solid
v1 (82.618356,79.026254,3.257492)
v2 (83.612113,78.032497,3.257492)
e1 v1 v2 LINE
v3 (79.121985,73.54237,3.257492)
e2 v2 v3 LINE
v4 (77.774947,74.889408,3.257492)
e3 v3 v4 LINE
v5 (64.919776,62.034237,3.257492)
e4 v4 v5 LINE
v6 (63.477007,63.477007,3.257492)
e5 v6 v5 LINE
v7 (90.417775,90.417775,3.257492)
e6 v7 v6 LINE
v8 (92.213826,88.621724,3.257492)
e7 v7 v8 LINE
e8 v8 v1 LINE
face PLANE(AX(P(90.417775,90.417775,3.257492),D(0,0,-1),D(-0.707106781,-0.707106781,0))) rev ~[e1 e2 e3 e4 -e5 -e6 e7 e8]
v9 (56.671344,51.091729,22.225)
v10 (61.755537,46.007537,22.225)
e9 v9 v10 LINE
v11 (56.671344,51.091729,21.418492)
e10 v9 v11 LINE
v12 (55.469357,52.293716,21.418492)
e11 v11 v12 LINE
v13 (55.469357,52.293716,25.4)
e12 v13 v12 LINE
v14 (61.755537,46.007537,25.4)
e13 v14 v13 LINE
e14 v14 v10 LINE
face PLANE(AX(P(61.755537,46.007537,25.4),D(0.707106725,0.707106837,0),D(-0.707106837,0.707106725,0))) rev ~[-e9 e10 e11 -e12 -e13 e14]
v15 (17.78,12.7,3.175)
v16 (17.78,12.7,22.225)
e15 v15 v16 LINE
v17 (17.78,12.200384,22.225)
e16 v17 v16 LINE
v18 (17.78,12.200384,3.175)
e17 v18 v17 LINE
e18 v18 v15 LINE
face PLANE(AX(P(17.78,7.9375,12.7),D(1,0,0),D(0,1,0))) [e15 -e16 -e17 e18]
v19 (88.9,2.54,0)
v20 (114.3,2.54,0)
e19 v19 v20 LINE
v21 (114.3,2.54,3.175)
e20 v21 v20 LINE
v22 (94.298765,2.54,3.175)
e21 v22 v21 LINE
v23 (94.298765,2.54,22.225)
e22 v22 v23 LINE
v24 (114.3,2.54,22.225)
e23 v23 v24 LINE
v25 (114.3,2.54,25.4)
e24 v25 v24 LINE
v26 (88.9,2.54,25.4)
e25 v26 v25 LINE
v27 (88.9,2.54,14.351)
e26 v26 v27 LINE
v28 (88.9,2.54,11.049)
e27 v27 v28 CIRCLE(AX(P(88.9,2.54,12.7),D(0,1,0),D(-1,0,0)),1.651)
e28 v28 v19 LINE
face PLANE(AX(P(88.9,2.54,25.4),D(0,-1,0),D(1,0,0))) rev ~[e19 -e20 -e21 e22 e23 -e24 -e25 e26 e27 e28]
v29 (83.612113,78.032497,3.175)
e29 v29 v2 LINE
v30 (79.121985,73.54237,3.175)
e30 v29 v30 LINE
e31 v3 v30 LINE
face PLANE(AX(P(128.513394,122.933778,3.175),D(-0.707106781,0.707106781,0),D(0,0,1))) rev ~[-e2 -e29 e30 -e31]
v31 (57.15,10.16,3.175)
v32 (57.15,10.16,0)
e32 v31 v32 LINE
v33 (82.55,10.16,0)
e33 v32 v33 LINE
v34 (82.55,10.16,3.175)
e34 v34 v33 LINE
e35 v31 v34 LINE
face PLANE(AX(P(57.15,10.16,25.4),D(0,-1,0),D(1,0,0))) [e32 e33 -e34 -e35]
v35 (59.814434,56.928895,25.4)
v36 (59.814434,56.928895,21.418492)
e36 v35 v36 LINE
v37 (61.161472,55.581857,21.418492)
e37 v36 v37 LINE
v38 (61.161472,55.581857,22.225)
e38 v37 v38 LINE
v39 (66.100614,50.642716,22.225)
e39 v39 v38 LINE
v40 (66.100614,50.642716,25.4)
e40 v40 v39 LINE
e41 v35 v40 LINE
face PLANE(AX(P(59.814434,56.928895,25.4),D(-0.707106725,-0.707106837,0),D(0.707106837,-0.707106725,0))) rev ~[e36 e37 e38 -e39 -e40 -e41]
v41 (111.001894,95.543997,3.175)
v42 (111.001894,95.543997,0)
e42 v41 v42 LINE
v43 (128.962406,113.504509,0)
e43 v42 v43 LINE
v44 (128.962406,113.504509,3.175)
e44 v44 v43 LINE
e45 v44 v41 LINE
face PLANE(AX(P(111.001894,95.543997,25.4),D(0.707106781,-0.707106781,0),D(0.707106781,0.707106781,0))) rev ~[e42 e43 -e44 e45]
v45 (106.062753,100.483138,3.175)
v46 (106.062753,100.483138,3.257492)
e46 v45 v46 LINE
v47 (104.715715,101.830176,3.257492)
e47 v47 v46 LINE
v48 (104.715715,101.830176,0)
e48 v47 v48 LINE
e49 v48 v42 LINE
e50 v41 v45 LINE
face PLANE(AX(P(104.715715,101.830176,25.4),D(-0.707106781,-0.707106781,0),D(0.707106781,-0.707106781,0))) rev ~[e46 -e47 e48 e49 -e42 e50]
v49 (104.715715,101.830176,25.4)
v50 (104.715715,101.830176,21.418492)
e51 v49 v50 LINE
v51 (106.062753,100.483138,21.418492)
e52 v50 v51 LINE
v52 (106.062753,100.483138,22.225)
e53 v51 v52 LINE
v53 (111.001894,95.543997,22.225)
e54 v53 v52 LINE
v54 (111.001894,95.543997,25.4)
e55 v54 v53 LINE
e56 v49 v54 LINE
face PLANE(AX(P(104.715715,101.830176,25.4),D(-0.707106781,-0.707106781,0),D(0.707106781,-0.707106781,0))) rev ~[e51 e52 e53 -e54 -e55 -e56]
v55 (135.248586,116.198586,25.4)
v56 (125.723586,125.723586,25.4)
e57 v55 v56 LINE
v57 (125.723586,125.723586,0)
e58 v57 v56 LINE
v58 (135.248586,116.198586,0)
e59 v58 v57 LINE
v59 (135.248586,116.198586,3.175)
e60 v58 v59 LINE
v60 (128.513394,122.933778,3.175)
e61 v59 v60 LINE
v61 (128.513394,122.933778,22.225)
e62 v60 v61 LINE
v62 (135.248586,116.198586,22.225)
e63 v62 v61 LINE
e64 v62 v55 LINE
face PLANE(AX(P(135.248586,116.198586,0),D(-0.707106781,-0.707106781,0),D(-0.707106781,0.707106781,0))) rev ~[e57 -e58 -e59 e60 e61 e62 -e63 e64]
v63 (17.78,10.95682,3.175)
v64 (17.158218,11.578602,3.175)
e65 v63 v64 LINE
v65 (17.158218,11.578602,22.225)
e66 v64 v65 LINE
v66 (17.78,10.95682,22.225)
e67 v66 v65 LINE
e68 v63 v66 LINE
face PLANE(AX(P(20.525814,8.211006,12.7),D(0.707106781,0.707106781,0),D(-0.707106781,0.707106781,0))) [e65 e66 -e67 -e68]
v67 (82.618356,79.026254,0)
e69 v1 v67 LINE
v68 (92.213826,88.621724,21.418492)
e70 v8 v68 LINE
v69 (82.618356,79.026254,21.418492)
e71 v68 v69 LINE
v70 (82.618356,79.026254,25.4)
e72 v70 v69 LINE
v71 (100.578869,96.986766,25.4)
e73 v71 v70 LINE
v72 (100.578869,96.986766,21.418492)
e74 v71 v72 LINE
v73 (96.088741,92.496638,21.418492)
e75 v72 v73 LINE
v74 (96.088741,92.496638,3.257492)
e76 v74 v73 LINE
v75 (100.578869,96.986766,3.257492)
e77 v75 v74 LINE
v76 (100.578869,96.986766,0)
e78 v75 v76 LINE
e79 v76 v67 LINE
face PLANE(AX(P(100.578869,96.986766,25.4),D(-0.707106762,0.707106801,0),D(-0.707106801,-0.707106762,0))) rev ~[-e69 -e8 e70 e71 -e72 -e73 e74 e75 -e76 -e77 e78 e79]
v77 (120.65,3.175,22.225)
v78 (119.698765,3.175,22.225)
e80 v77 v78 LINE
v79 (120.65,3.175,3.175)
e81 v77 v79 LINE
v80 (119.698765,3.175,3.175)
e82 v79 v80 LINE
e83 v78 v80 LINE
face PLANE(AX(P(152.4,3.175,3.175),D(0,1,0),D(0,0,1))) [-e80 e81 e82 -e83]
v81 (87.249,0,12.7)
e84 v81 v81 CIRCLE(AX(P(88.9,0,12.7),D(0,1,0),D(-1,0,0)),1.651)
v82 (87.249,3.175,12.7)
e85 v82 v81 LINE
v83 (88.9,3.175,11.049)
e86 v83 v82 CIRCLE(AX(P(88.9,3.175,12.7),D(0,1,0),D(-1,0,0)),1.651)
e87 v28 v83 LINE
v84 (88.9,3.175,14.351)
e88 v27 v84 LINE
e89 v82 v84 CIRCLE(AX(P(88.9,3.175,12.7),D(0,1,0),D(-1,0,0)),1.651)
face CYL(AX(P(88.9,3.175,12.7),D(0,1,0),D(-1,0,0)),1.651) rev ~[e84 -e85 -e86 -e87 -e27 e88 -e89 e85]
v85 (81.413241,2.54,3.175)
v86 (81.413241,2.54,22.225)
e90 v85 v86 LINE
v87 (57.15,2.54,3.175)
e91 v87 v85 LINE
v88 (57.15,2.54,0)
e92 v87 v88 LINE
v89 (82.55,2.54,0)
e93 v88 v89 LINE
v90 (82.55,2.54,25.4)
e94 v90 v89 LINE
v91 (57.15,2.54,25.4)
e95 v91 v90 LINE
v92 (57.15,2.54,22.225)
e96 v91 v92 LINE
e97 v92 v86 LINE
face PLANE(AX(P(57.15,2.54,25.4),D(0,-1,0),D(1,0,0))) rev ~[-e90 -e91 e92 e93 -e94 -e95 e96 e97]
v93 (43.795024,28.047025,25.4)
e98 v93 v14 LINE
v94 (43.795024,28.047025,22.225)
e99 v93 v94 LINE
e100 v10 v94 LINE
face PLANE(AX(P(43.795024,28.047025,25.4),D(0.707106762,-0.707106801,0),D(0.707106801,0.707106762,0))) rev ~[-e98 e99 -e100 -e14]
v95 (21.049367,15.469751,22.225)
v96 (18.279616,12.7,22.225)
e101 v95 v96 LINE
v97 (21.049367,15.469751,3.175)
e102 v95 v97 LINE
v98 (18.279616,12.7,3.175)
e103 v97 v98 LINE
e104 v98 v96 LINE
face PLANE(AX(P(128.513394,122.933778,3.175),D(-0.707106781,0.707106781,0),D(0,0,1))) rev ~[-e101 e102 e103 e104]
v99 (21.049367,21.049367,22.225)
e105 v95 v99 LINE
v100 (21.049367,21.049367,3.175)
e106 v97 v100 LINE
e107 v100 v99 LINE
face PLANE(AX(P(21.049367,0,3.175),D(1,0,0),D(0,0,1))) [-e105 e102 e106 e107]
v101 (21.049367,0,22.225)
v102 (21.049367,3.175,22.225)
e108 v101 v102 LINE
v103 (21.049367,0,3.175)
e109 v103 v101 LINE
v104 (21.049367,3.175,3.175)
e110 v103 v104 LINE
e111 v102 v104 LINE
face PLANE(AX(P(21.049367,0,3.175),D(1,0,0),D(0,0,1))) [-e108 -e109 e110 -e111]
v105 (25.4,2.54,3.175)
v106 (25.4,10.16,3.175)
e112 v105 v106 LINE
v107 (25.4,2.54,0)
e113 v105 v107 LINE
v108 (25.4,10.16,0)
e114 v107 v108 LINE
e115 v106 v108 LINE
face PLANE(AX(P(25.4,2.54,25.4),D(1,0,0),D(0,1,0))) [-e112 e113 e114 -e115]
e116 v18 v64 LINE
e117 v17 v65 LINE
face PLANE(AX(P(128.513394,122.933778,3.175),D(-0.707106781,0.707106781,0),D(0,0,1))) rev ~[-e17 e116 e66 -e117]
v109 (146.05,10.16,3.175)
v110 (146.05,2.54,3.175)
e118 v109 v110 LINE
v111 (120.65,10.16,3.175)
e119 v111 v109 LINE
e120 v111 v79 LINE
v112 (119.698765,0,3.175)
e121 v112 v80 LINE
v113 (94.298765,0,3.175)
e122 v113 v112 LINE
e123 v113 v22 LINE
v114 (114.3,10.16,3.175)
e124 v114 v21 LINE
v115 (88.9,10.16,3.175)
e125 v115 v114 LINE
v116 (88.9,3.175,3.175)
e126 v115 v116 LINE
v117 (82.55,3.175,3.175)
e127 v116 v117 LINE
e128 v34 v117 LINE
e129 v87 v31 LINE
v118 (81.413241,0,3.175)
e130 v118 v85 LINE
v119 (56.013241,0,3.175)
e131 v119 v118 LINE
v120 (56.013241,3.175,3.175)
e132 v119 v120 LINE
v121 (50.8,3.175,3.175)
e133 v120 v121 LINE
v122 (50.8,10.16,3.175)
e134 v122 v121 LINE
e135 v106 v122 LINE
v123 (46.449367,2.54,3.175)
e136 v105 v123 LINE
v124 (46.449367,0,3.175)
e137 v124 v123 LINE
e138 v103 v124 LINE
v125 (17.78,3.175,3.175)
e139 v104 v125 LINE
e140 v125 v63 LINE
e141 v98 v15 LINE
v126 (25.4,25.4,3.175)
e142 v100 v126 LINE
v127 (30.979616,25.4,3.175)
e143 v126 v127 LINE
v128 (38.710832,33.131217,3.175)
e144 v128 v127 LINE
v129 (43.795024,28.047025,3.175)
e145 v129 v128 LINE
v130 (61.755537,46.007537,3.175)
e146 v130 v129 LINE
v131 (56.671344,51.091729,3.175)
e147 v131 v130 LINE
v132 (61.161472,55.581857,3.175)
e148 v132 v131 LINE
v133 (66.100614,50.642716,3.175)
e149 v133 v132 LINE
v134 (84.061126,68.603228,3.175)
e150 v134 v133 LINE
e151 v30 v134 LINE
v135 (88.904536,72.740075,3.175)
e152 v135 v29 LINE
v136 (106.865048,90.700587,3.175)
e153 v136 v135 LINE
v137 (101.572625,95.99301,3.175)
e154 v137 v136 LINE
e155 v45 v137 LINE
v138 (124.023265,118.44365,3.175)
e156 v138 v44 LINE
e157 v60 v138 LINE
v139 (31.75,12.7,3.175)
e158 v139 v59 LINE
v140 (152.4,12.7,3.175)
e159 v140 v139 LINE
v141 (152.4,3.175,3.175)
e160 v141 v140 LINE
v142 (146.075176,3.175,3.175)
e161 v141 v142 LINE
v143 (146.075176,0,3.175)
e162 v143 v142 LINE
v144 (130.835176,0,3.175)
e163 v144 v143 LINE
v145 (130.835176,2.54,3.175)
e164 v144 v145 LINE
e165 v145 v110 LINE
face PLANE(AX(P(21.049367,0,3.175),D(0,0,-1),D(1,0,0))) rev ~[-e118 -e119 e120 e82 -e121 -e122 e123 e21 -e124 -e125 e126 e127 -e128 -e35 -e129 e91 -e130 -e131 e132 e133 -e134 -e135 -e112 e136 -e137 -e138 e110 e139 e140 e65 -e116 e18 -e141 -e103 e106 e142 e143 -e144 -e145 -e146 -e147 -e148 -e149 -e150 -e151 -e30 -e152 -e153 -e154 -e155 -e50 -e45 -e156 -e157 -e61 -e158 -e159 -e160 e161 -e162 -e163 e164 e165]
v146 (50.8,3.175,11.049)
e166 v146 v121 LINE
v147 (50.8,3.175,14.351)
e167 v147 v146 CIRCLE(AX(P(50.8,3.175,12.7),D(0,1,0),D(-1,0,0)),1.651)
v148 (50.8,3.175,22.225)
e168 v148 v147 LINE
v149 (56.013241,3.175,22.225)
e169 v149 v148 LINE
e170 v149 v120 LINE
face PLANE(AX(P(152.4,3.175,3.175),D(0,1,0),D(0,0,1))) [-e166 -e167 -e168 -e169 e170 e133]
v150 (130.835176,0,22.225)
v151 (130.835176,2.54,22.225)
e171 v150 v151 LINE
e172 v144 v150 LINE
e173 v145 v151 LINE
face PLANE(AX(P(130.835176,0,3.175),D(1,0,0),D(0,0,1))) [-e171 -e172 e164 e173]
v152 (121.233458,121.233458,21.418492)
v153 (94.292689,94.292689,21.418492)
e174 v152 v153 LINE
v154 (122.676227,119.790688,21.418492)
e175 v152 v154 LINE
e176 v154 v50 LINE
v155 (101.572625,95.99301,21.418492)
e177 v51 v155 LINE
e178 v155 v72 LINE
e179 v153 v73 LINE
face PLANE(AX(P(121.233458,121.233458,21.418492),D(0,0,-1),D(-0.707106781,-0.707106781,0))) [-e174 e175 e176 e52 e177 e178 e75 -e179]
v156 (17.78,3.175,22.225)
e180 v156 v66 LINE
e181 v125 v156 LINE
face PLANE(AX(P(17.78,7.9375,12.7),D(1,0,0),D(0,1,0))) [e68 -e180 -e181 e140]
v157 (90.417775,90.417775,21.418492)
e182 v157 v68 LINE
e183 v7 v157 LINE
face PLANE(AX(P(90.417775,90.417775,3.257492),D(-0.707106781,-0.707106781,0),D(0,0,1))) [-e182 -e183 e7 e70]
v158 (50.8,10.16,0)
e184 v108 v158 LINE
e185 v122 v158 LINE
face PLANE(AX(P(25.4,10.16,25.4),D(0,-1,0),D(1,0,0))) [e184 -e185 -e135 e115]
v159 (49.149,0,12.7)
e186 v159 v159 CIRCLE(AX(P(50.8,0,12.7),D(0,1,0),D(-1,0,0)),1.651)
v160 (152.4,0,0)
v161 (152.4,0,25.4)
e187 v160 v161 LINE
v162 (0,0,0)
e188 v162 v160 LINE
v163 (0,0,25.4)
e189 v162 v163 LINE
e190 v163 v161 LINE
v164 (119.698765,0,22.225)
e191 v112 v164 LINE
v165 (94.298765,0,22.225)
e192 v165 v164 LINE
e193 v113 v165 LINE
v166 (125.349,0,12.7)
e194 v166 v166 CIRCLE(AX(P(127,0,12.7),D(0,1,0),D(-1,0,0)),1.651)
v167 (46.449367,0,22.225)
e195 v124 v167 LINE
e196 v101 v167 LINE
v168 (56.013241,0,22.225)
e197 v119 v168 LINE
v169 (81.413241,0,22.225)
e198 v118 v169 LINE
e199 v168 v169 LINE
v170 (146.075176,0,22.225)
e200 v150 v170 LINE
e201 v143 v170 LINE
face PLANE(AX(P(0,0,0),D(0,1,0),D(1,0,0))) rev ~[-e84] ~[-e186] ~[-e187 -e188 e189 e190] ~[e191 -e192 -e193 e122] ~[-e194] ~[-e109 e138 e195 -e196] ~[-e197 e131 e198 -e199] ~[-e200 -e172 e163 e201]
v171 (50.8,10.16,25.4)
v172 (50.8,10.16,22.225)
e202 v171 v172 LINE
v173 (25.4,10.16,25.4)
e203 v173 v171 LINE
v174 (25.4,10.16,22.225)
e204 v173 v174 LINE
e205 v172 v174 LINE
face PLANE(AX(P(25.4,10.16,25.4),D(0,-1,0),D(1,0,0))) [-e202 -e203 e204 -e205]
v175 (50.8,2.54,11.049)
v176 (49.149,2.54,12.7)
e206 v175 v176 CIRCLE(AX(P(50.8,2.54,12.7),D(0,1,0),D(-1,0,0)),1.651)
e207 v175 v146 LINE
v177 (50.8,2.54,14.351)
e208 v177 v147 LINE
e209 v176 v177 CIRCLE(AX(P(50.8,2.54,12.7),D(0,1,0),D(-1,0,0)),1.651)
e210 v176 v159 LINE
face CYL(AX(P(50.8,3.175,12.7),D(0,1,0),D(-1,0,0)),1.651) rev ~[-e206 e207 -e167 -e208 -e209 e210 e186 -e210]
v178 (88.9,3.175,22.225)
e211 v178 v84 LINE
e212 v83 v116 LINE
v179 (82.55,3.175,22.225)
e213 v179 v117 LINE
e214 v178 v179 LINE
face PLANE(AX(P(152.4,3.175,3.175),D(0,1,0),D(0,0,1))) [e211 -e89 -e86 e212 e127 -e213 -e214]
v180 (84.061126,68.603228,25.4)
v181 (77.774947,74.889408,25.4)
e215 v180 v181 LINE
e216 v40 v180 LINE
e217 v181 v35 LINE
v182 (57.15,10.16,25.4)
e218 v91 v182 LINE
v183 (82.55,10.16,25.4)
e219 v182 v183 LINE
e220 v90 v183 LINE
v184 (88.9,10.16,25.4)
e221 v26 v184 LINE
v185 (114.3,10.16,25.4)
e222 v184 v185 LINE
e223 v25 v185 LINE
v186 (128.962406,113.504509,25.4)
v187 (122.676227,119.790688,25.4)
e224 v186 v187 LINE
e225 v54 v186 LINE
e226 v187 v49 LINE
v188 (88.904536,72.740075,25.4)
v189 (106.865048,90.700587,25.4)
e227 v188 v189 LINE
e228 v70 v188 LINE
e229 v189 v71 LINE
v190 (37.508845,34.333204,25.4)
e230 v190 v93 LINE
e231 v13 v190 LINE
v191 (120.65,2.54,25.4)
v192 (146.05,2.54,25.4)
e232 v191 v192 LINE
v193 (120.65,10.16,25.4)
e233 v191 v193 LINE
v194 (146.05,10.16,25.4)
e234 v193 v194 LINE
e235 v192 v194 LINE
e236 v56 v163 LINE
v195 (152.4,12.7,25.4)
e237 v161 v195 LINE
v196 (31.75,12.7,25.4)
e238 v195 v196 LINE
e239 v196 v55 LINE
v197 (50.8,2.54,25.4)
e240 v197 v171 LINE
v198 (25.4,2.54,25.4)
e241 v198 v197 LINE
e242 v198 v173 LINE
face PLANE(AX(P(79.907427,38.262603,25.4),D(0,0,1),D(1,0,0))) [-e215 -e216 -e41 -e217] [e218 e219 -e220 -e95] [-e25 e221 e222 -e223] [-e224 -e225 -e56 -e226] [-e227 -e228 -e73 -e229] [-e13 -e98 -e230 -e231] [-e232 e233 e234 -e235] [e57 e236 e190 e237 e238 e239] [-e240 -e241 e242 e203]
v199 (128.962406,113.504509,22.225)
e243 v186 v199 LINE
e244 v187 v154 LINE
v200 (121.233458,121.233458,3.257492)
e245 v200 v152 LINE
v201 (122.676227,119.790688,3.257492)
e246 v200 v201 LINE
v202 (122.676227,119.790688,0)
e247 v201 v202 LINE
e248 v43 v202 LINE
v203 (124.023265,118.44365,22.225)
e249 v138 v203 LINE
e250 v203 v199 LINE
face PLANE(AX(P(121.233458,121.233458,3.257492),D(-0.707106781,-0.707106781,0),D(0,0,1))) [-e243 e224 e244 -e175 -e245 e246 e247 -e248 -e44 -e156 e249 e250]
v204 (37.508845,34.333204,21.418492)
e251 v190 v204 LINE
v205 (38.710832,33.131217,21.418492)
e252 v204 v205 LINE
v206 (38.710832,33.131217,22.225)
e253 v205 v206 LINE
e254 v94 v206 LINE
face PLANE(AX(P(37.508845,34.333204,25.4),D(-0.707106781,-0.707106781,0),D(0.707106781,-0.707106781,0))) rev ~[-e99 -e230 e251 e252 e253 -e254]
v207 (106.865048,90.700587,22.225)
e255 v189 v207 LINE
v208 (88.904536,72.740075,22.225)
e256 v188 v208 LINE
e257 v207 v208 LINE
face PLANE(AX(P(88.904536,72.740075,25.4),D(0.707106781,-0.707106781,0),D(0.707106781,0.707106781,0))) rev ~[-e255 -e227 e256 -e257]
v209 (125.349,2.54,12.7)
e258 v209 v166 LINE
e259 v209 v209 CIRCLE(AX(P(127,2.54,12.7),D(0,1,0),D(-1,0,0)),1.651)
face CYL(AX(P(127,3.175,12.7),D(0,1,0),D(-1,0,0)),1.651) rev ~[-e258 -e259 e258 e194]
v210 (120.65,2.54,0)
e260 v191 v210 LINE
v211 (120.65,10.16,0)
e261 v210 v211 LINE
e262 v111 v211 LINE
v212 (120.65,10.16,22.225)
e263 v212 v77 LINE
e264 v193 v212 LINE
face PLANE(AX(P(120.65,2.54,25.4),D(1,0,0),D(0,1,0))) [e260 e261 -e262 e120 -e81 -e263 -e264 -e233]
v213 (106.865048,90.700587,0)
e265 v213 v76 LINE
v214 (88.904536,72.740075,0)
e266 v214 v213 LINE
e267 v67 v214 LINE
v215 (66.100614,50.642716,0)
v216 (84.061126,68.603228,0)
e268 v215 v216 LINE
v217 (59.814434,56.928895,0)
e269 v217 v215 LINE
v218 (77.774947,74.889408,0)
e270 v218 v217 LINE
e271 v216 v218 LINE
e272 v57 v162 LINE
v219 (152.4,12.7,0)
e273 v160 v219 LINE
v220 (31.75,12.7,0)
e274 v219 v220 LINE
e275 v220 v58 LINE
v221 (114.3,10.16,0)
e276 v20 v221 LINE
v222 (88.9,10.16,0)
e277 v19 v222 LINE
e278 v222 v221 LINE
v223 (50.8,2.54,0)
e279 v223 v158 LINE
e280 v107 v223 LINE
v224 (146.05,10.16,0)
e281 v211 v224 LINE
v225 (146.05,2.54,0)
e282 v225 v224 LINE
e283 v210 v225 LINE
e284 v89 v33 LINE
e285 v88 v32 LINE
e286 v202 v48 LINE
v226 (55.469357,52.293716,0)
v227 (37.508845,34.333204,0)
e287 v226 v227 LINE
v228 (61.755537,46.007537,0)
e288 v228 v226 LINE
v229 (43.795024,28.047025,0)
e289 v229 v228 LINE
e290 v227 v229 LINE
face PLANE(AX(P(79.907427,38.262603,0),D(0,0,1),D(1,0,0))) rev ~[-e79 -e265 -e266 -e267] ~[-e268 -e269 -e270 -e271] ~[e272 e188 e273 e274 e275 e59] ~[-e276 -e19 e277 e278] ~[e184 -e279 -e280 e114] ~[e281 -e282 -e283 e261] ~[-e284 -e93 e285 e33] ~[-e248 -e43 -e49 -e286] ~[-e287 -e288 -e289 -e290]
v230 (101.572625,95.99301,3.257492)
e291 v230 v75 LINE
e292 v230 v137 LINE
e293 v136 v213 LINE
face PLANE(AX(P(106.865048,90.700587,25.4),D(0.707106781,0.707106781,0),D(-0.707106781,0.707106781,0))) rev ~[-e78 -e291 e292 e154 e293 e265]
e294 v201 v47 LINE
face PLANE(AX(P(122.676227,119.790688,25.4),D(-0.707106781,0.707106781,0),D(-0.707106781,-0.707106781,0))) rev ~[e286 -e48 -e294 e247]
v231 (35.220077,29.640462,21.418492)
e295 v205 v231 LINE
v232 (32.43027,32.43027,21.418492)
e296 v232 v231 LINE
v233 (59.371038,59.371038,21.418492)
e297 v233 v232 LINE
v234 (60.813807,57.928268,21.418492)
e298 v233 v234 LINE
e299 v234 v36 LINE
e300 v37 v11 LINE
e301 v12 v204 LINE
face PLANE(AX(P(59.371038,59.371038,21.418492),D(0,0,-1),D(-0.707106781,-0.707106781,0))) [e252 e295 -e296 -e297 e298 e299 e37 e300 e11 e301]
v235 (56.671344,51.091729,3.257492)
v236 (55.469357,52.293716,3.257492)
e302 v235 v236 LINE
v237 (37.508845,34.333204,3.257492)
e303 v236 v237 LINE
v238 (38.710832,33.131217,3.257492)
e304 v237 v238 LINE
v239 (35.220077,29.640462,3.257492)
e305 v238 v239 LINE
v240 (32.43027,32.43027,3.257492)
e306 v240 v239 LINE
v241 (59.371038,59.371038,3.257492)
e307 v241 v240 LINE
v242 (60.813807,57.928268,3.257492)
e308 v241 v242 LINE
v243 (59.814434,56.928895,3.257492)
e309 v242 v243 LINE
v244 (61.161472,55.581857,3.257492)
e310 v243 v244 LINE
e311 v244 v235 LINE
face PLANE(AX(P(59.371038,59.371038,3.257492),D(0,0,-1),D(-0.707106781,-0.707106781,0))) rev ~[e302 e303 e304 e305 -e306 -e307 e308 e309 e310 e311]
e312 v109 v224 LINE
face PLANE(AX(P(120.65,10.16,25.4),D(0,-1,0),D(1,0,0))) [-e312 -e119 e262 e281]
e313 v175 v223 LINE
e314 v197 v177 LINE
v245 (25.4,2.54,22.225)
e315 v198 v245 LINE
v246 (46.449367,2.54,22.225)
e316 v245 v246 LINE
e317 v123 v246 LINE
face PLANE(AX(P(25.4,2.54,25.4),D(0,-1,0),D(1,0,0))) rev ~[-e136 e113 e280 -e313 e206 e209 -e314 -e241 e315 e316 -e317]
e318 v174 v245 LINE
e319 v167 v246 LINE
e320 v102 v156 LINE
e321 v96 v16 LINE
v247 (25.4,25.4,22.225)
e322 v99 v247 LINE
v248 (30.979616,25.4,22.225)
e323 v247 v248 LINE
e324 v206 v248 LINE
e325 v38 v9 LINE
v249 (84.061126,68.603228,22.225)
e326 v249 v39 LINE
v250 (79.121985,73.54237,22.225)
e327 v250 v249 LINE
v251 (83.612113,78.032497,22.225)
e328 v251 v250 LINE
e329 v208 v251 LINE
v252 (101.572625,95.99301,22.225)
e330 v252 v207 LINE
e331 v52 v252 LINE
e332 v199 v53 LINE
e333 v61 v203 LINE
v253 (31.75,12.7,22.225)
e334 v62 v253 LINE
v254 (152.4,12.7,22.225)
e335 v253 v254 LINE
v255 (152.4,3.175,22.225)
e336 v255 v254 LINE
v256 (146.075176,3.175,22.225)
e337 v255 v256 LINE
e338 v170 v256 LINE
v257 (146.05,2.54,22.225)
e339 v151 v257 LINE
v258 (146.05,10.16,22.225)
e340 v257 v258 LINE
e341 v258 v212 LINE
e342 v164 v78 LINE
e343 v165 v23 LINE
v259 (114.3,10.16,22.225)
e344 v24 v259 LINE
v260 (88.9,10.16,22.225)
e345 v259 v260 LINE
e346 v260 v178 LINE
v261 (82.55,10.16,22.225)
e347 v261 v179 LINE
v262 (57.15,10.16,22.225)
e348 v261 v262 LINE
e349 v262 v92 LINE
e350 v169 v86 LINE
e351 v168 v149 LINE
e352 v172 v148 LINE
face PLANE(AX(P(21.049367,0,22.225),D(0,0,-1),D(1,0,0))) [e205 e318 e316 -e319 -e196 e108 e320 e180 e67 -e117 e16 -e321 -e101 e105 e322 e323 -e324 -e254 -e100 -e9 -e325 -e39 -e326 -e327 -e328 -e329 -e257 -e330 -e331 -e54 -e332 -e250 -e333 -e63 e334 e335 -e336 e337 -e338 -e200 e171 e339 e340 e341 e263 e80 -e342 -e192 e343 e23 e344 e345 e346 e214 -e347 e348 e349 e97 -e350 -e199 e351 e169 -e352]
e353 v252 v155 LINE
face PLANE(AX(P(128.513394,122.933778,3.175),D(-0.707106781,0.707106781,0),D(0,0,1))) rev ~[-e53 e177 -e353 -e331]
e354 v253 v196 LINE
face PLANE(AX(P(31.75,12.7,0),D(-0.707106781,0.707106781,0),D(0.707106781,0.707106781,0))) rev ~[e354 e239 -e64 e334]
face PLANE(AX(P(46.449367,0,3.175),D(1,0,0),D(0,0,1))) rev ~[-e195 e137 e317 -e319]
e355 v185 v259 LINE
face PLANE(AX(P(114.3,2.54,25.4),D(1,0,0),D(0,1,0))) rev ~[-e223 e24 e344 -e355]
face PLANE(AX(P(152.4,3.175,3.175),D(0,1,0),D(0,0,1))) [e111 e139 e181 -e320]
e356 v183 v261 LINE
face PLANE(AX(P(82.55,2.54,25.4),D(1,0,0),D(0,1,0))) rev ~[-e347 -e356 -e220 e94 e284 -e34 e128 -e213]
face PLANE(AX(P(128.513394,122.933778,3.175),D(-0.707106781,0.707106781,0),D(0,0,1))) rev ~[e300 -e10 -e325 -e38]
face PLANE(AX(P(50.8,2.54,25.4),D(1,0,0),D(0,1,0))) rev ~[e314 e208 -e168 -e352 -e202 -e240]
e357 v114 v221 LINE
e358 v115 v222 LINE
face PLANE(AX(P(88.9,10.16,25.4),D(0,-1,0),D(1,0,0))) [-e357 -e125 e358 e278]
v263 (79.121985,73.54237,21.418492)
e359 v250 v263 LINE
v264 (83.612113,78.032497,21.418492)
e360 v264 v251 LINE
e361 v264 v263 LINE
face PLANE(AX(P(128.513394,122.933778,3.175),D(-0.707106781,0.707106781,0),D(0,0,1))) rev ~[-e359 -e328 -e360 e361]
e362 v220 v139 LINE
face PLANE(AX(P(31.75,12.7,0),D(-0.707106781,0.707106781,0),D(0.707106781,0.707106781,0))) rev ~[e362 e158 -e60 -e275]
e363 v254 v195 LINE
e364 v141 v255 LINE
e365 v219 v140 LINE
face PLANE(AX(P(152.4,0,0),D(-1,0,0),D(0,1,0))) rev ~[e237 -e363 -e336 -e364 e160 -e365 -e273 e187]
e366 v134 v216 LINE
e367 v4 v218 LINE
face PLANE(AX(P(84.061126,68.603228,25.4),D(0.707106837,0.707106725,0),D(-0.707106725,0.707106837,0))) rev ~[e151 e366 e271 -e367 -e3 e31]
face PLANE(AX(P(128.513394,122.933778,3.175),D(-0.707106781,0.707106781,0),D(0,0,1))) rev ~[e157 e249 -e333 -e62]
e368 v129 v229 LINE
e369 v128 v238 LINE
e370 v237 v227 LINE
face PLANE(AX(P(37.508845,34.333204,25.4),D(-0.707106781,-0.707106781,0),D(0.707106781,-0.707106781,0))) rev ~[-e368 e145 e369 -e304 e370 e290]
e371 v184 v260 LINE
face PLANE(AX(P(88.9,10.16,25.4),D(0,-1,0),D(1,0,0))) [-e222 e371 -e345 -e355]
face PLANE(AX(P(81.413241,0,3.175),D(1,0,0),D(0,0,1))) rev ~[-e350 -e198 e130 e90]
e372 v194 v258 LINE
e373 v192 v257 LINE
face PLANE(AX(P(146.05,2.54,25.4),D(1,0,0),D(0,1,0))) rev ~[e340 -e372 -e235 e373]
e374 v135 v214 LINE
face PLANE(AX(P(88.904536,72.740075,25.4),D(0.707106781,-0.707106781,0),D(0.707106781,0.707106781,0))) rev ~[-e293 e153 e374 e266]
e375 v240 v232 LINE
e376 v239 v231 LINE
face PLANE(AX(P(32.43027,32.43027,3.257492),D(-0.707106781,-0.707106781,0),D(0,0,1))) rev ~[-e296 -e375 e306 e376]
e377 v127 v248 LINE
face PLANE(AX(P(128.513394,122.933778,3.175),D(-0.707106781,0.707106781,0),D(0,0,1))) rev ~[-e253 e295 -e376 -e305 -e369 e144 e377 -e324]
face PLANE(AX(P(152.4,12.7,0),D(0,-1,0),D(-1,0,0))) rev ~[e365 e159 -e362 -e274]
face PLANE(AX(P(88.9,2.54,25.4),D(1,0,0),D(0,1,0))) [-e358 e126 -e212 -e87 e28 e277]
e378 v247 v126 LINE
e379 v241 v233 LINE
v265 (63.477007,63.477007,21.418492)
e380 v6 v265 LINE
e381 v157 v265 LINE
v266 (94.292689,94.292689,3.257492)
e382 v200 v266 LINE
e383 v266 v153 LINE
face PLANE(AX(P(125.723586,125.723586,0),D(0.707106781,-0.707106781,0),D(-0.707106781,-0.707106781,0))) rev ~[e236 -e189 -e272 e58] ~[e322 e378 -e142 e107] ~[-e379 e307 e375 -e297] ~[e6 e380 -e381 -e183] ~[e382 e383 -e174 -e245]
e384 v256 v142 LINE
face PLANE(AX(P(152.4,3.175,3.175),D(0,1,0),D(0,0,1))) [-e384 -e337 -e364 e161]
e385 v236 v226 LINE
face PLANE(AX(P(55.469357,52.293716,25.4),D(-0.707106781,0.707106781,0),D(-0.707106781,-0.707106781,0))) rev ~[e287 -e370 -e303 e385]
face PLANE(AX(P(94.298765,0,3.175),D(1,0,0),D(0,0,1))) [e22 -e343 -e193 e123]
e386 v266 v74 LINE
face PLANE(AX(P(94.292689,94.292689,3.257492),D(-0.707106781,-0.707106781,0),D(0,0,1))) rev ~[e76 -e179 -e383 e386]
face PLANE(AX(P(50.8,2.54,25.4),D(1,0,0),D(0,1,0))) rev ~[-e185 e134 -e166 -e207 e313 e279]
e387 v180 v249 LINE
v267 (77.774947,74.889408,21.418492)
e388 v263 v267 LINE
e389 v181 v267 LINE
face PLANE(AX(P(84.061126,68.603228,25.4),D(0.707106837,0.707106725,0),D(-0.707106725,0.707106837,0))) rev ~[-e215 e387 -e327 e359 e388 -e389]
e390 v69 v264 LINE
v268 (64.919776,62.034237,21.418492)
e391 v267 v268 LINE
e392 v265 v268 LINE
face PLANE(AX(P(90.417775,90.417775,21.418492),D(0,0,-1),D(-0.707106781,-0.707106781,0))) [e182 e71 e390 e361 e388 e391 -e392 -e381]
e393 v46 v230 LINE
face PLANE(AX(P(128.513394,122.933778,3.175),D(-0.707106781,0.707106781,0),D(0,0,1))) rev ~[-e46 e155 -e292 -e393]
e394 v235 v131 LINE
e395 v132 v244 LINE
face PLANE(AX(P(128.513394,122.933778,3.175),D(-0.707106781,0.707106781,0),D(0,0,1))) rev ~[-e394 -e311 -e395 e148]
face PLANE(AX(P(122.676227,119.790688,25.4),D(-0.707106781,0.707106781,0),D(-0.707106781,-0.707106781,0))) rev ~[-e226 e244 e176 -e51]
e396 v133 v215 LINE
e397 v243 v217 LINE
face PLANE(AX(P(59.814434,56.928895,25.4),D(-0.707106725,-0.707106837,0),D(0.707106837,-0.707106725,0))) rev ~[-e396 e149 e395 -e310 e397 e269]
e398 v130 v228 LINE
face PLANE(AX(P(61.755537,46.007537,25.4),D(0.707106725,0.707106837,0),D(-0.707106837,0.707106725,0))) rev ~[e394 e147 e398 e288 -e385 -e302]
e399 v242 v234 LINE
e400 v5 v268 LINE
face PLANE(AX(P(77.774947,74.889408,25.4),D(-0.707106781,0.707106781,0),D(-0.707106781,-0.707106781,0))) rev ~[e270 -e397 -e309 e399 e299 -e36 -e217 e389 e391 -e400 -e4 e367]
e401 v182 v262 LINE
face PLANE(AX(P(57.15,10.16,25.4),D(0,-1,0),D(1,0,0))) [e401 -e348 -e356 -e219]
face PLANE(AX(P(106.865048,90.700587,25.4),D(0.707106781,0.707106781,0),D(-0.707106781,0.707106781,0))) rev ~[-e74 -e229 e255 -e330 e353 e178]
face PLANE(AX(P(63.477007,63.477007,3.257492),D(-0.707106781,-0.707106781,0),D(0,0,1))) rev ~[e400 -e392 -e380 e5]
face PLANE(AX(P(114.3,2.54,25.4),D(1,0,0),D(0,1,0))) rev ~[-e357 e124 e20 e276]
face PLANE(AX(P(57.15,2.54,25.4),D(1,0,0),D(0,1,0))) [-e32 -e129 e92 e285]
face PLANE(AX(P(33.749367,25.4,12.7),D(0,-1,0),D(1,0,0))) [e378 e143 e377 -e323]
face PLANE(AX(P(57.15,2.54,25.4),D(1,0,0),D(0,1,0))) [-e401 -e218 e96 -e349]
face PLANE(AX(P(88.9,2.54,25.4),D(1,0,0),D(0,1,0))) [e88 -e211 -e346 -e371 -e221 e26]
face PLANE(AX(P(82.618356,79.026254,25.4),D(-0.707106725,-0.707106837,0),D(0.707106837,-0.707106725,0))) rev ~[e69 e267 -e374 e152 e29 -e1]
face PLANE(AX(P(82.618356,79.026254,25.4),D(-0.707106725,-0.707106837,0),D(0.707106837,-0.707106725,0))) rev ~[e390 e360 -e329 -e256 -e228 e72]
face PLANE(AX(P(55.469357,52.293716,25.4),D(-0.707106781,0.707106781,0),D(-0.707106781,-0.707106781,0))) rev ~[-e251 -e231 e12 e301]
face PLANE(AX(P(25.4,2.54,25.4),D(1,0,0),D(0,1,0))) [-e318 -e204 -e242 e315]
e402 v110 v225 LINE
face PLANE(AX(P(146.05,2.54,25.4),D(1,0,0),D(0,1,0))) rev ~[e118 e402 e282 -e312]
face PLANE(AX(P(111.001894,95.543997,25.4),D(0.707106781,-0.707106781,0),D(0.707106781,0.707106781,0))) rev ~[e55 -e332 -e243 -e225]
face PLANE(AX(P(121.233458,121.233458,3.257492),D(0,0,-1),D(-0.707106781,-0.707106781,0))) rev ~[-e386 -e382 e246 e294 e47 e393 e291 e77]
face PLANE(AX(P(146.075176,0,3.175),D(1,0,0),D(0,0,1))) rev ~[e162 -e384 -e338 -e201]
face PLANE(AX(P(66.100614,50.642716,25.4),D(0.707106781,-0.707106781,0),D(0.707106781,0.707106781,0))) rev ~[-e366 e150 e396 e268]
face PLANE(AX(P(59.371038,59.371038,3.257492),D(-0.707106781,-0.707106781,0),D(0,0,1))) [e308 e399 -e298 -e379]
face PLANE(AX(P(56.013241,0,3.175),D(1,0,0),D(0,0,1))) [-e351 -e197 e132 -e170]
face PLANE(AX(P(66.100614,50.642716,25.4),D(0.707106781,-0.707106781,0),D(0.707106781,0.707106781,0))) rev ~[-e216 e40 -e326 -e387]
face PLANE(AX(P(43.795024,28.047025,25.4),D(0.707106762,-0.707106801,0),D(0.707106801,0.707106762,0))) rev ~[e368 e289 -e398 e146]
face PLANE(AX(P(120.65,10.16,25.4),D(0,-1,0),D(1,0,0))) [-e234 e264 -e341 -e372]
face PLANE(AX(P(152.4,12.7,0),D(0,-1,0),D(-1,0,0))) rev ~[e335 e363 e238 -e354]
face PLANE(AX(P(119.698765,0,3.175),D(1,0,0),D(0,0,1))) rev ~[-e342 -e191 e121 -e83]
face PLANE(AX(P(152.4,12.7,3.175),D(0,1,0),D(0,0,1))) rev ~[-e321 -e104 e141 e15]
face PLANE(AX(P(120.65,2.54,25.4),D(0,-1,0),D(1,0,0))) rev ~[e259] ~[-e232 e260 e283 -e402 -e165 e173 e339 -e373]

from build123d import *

# Parameters (mm, degrees)
F1_DEPTH  = 25.4
F2_W      = 9.525
F2_H      = 19.05
F3_DEPTH  = 134.62
F4_W      = 9.525
F4_H      = 19.05
F5_DEPTH  = 157.48
F6_R      = 1.651
F7_DEPTH  = 25.4
F8_W      = 25.4
F8_H      = 7.62
F9_DEPTH  = 101.6
F10_W     = 15.24
F10_H     = 19.05
F10_W_2   = 25.4
F11_DEPTH = 25.4
F12_W     = 38.1
F12_H     = 18.161
F13_DEPTH = 25.4


with BuildPart() as f1:
    # F0 (on Top) → F1 (new body)
    with BuildSketch(Plane.XY):
        Polygon((125.723586, 125.723586), (0, 0), (152.4, 0), (152.4, 12.7), (31.75, 12.7), (135.248586, 116.198586), align=None)
    extrude(amount=F1_DEPTH)

    # F2 (on face) → F3 (cut)
    with BuildSketch(Plane.YZ.offset(152.4)):
        with Locations((7.9375, 12.7)):
            Rectangle(F2_W, F2_H)
    extrude(amount=-F3_DEPTH, mode=Mode.SUBTRACT)

    # F4 (on face) → F5 (cut)
    with BuildSketch(Plane(origin=(125.723586, 125.723586, 0), x_dir=(-0.707107, 0.707107, 0), z_dir=(0.707107, 0.707107, 0))):
        with Locations((-8.707884, 12.7)):
            Rectangle(F4_W, F4_H)
    extrude(amount=-F5_DEPTH, mode=Mode.SUBTRACT)

    # F6 (on face) → F7 (cut)
    with BuildSketch(Plane(origin=(0, 3.175, 0), x_dir=(-1, 0, 0), z_dir=(0, 1, 0))):
        with Locations((-88.9, 12.7)):
            Circle(F6_R)
        with Locations((-50.8, 12.7)):
            Circle(F6_R)
        with Locations((-127, 12.7)):
            Circle(F6_R)
    extrude(amount=-F7_DEPTH, mode=Mode.SUBTRACT)

    # F8 (on face) → F9 (cut)
    with BuildSketch(Plane.XY.offset(25.4)):
        with Locations((38.1, 6.35)):
            Rectangle(F8_W, F8_H)
        with Locations((69.85, 6.35)):
            Rectangle(F8_W, F8_H)
        with Locations((101.6, 6.35)):
            Rectangle(F8_W, F8_H)
        with Locations((133.35, 6.35)):
            Rectangle(F8_W, F8_H)
        Polygon((128.962406, 113.504509), (122.676227, 119.790688), (104.715715, 101.830176), (111.001894, 95.543997), align=None)
        Polygon((106.865048, 90.700587), (100.578869, 96.986766), (82.618356, 79.026254), (88.904536, 72.740075), align=None)
        Polygon((84.061126, 68.603228), (77.774947, 74.889408), (59.814434, 56.928895), (66.100614, 50.642716), align=None)
        Polygon((61.755537, 46.007537), (55.469357, 52.293716), (37.508845, 34.333204), (43.795024, 28.047025), align=None)
    extrude(amount=-F9_DEPTH, mode=Mode.SUBTRACT)

    # F10 (on face) → F11 (cut)
    with BuildSketch(Plane.XZ):
        with Locations((138.455176, 12.7)):
            Rectangle(F10_W, F10_H)
        with Locations((106.998765, 12.7)):
            Rectangle(F10_W_2, F10_H)
        with Locations((68.713241, 12.7)):
            Rectangle(F10_W_2, F10_H)
        with Locations((33.749367, 12.7)):
            Rectangle(F10_W_2, F10_H)
    extrude(amount=-F11_DEPTH, mode=Mode.SUBTRACT)

    # F12 (on face) → F13 (cut)
    with BuildSketch(Plane(origin=(0, 0, 0), x_dir=(-0.707107, -0.707107, 0), z_dir=(-0.707107, 0.707107, 0))):
        with Locations((-108.820044, 12.337992)):
            Rectangle(F12_W, F12_H)
        with Locations((-152.4, 12.337992)):
            Rectangle(F12_W, F12_H)
        with Locations((-64.913327, 12.337992)):
            Rectangle(F12_W, F12_H)
    extrude(amount=-F13_DEPTH, mode=Mode.SUBTRACT)


solid = f1.part
